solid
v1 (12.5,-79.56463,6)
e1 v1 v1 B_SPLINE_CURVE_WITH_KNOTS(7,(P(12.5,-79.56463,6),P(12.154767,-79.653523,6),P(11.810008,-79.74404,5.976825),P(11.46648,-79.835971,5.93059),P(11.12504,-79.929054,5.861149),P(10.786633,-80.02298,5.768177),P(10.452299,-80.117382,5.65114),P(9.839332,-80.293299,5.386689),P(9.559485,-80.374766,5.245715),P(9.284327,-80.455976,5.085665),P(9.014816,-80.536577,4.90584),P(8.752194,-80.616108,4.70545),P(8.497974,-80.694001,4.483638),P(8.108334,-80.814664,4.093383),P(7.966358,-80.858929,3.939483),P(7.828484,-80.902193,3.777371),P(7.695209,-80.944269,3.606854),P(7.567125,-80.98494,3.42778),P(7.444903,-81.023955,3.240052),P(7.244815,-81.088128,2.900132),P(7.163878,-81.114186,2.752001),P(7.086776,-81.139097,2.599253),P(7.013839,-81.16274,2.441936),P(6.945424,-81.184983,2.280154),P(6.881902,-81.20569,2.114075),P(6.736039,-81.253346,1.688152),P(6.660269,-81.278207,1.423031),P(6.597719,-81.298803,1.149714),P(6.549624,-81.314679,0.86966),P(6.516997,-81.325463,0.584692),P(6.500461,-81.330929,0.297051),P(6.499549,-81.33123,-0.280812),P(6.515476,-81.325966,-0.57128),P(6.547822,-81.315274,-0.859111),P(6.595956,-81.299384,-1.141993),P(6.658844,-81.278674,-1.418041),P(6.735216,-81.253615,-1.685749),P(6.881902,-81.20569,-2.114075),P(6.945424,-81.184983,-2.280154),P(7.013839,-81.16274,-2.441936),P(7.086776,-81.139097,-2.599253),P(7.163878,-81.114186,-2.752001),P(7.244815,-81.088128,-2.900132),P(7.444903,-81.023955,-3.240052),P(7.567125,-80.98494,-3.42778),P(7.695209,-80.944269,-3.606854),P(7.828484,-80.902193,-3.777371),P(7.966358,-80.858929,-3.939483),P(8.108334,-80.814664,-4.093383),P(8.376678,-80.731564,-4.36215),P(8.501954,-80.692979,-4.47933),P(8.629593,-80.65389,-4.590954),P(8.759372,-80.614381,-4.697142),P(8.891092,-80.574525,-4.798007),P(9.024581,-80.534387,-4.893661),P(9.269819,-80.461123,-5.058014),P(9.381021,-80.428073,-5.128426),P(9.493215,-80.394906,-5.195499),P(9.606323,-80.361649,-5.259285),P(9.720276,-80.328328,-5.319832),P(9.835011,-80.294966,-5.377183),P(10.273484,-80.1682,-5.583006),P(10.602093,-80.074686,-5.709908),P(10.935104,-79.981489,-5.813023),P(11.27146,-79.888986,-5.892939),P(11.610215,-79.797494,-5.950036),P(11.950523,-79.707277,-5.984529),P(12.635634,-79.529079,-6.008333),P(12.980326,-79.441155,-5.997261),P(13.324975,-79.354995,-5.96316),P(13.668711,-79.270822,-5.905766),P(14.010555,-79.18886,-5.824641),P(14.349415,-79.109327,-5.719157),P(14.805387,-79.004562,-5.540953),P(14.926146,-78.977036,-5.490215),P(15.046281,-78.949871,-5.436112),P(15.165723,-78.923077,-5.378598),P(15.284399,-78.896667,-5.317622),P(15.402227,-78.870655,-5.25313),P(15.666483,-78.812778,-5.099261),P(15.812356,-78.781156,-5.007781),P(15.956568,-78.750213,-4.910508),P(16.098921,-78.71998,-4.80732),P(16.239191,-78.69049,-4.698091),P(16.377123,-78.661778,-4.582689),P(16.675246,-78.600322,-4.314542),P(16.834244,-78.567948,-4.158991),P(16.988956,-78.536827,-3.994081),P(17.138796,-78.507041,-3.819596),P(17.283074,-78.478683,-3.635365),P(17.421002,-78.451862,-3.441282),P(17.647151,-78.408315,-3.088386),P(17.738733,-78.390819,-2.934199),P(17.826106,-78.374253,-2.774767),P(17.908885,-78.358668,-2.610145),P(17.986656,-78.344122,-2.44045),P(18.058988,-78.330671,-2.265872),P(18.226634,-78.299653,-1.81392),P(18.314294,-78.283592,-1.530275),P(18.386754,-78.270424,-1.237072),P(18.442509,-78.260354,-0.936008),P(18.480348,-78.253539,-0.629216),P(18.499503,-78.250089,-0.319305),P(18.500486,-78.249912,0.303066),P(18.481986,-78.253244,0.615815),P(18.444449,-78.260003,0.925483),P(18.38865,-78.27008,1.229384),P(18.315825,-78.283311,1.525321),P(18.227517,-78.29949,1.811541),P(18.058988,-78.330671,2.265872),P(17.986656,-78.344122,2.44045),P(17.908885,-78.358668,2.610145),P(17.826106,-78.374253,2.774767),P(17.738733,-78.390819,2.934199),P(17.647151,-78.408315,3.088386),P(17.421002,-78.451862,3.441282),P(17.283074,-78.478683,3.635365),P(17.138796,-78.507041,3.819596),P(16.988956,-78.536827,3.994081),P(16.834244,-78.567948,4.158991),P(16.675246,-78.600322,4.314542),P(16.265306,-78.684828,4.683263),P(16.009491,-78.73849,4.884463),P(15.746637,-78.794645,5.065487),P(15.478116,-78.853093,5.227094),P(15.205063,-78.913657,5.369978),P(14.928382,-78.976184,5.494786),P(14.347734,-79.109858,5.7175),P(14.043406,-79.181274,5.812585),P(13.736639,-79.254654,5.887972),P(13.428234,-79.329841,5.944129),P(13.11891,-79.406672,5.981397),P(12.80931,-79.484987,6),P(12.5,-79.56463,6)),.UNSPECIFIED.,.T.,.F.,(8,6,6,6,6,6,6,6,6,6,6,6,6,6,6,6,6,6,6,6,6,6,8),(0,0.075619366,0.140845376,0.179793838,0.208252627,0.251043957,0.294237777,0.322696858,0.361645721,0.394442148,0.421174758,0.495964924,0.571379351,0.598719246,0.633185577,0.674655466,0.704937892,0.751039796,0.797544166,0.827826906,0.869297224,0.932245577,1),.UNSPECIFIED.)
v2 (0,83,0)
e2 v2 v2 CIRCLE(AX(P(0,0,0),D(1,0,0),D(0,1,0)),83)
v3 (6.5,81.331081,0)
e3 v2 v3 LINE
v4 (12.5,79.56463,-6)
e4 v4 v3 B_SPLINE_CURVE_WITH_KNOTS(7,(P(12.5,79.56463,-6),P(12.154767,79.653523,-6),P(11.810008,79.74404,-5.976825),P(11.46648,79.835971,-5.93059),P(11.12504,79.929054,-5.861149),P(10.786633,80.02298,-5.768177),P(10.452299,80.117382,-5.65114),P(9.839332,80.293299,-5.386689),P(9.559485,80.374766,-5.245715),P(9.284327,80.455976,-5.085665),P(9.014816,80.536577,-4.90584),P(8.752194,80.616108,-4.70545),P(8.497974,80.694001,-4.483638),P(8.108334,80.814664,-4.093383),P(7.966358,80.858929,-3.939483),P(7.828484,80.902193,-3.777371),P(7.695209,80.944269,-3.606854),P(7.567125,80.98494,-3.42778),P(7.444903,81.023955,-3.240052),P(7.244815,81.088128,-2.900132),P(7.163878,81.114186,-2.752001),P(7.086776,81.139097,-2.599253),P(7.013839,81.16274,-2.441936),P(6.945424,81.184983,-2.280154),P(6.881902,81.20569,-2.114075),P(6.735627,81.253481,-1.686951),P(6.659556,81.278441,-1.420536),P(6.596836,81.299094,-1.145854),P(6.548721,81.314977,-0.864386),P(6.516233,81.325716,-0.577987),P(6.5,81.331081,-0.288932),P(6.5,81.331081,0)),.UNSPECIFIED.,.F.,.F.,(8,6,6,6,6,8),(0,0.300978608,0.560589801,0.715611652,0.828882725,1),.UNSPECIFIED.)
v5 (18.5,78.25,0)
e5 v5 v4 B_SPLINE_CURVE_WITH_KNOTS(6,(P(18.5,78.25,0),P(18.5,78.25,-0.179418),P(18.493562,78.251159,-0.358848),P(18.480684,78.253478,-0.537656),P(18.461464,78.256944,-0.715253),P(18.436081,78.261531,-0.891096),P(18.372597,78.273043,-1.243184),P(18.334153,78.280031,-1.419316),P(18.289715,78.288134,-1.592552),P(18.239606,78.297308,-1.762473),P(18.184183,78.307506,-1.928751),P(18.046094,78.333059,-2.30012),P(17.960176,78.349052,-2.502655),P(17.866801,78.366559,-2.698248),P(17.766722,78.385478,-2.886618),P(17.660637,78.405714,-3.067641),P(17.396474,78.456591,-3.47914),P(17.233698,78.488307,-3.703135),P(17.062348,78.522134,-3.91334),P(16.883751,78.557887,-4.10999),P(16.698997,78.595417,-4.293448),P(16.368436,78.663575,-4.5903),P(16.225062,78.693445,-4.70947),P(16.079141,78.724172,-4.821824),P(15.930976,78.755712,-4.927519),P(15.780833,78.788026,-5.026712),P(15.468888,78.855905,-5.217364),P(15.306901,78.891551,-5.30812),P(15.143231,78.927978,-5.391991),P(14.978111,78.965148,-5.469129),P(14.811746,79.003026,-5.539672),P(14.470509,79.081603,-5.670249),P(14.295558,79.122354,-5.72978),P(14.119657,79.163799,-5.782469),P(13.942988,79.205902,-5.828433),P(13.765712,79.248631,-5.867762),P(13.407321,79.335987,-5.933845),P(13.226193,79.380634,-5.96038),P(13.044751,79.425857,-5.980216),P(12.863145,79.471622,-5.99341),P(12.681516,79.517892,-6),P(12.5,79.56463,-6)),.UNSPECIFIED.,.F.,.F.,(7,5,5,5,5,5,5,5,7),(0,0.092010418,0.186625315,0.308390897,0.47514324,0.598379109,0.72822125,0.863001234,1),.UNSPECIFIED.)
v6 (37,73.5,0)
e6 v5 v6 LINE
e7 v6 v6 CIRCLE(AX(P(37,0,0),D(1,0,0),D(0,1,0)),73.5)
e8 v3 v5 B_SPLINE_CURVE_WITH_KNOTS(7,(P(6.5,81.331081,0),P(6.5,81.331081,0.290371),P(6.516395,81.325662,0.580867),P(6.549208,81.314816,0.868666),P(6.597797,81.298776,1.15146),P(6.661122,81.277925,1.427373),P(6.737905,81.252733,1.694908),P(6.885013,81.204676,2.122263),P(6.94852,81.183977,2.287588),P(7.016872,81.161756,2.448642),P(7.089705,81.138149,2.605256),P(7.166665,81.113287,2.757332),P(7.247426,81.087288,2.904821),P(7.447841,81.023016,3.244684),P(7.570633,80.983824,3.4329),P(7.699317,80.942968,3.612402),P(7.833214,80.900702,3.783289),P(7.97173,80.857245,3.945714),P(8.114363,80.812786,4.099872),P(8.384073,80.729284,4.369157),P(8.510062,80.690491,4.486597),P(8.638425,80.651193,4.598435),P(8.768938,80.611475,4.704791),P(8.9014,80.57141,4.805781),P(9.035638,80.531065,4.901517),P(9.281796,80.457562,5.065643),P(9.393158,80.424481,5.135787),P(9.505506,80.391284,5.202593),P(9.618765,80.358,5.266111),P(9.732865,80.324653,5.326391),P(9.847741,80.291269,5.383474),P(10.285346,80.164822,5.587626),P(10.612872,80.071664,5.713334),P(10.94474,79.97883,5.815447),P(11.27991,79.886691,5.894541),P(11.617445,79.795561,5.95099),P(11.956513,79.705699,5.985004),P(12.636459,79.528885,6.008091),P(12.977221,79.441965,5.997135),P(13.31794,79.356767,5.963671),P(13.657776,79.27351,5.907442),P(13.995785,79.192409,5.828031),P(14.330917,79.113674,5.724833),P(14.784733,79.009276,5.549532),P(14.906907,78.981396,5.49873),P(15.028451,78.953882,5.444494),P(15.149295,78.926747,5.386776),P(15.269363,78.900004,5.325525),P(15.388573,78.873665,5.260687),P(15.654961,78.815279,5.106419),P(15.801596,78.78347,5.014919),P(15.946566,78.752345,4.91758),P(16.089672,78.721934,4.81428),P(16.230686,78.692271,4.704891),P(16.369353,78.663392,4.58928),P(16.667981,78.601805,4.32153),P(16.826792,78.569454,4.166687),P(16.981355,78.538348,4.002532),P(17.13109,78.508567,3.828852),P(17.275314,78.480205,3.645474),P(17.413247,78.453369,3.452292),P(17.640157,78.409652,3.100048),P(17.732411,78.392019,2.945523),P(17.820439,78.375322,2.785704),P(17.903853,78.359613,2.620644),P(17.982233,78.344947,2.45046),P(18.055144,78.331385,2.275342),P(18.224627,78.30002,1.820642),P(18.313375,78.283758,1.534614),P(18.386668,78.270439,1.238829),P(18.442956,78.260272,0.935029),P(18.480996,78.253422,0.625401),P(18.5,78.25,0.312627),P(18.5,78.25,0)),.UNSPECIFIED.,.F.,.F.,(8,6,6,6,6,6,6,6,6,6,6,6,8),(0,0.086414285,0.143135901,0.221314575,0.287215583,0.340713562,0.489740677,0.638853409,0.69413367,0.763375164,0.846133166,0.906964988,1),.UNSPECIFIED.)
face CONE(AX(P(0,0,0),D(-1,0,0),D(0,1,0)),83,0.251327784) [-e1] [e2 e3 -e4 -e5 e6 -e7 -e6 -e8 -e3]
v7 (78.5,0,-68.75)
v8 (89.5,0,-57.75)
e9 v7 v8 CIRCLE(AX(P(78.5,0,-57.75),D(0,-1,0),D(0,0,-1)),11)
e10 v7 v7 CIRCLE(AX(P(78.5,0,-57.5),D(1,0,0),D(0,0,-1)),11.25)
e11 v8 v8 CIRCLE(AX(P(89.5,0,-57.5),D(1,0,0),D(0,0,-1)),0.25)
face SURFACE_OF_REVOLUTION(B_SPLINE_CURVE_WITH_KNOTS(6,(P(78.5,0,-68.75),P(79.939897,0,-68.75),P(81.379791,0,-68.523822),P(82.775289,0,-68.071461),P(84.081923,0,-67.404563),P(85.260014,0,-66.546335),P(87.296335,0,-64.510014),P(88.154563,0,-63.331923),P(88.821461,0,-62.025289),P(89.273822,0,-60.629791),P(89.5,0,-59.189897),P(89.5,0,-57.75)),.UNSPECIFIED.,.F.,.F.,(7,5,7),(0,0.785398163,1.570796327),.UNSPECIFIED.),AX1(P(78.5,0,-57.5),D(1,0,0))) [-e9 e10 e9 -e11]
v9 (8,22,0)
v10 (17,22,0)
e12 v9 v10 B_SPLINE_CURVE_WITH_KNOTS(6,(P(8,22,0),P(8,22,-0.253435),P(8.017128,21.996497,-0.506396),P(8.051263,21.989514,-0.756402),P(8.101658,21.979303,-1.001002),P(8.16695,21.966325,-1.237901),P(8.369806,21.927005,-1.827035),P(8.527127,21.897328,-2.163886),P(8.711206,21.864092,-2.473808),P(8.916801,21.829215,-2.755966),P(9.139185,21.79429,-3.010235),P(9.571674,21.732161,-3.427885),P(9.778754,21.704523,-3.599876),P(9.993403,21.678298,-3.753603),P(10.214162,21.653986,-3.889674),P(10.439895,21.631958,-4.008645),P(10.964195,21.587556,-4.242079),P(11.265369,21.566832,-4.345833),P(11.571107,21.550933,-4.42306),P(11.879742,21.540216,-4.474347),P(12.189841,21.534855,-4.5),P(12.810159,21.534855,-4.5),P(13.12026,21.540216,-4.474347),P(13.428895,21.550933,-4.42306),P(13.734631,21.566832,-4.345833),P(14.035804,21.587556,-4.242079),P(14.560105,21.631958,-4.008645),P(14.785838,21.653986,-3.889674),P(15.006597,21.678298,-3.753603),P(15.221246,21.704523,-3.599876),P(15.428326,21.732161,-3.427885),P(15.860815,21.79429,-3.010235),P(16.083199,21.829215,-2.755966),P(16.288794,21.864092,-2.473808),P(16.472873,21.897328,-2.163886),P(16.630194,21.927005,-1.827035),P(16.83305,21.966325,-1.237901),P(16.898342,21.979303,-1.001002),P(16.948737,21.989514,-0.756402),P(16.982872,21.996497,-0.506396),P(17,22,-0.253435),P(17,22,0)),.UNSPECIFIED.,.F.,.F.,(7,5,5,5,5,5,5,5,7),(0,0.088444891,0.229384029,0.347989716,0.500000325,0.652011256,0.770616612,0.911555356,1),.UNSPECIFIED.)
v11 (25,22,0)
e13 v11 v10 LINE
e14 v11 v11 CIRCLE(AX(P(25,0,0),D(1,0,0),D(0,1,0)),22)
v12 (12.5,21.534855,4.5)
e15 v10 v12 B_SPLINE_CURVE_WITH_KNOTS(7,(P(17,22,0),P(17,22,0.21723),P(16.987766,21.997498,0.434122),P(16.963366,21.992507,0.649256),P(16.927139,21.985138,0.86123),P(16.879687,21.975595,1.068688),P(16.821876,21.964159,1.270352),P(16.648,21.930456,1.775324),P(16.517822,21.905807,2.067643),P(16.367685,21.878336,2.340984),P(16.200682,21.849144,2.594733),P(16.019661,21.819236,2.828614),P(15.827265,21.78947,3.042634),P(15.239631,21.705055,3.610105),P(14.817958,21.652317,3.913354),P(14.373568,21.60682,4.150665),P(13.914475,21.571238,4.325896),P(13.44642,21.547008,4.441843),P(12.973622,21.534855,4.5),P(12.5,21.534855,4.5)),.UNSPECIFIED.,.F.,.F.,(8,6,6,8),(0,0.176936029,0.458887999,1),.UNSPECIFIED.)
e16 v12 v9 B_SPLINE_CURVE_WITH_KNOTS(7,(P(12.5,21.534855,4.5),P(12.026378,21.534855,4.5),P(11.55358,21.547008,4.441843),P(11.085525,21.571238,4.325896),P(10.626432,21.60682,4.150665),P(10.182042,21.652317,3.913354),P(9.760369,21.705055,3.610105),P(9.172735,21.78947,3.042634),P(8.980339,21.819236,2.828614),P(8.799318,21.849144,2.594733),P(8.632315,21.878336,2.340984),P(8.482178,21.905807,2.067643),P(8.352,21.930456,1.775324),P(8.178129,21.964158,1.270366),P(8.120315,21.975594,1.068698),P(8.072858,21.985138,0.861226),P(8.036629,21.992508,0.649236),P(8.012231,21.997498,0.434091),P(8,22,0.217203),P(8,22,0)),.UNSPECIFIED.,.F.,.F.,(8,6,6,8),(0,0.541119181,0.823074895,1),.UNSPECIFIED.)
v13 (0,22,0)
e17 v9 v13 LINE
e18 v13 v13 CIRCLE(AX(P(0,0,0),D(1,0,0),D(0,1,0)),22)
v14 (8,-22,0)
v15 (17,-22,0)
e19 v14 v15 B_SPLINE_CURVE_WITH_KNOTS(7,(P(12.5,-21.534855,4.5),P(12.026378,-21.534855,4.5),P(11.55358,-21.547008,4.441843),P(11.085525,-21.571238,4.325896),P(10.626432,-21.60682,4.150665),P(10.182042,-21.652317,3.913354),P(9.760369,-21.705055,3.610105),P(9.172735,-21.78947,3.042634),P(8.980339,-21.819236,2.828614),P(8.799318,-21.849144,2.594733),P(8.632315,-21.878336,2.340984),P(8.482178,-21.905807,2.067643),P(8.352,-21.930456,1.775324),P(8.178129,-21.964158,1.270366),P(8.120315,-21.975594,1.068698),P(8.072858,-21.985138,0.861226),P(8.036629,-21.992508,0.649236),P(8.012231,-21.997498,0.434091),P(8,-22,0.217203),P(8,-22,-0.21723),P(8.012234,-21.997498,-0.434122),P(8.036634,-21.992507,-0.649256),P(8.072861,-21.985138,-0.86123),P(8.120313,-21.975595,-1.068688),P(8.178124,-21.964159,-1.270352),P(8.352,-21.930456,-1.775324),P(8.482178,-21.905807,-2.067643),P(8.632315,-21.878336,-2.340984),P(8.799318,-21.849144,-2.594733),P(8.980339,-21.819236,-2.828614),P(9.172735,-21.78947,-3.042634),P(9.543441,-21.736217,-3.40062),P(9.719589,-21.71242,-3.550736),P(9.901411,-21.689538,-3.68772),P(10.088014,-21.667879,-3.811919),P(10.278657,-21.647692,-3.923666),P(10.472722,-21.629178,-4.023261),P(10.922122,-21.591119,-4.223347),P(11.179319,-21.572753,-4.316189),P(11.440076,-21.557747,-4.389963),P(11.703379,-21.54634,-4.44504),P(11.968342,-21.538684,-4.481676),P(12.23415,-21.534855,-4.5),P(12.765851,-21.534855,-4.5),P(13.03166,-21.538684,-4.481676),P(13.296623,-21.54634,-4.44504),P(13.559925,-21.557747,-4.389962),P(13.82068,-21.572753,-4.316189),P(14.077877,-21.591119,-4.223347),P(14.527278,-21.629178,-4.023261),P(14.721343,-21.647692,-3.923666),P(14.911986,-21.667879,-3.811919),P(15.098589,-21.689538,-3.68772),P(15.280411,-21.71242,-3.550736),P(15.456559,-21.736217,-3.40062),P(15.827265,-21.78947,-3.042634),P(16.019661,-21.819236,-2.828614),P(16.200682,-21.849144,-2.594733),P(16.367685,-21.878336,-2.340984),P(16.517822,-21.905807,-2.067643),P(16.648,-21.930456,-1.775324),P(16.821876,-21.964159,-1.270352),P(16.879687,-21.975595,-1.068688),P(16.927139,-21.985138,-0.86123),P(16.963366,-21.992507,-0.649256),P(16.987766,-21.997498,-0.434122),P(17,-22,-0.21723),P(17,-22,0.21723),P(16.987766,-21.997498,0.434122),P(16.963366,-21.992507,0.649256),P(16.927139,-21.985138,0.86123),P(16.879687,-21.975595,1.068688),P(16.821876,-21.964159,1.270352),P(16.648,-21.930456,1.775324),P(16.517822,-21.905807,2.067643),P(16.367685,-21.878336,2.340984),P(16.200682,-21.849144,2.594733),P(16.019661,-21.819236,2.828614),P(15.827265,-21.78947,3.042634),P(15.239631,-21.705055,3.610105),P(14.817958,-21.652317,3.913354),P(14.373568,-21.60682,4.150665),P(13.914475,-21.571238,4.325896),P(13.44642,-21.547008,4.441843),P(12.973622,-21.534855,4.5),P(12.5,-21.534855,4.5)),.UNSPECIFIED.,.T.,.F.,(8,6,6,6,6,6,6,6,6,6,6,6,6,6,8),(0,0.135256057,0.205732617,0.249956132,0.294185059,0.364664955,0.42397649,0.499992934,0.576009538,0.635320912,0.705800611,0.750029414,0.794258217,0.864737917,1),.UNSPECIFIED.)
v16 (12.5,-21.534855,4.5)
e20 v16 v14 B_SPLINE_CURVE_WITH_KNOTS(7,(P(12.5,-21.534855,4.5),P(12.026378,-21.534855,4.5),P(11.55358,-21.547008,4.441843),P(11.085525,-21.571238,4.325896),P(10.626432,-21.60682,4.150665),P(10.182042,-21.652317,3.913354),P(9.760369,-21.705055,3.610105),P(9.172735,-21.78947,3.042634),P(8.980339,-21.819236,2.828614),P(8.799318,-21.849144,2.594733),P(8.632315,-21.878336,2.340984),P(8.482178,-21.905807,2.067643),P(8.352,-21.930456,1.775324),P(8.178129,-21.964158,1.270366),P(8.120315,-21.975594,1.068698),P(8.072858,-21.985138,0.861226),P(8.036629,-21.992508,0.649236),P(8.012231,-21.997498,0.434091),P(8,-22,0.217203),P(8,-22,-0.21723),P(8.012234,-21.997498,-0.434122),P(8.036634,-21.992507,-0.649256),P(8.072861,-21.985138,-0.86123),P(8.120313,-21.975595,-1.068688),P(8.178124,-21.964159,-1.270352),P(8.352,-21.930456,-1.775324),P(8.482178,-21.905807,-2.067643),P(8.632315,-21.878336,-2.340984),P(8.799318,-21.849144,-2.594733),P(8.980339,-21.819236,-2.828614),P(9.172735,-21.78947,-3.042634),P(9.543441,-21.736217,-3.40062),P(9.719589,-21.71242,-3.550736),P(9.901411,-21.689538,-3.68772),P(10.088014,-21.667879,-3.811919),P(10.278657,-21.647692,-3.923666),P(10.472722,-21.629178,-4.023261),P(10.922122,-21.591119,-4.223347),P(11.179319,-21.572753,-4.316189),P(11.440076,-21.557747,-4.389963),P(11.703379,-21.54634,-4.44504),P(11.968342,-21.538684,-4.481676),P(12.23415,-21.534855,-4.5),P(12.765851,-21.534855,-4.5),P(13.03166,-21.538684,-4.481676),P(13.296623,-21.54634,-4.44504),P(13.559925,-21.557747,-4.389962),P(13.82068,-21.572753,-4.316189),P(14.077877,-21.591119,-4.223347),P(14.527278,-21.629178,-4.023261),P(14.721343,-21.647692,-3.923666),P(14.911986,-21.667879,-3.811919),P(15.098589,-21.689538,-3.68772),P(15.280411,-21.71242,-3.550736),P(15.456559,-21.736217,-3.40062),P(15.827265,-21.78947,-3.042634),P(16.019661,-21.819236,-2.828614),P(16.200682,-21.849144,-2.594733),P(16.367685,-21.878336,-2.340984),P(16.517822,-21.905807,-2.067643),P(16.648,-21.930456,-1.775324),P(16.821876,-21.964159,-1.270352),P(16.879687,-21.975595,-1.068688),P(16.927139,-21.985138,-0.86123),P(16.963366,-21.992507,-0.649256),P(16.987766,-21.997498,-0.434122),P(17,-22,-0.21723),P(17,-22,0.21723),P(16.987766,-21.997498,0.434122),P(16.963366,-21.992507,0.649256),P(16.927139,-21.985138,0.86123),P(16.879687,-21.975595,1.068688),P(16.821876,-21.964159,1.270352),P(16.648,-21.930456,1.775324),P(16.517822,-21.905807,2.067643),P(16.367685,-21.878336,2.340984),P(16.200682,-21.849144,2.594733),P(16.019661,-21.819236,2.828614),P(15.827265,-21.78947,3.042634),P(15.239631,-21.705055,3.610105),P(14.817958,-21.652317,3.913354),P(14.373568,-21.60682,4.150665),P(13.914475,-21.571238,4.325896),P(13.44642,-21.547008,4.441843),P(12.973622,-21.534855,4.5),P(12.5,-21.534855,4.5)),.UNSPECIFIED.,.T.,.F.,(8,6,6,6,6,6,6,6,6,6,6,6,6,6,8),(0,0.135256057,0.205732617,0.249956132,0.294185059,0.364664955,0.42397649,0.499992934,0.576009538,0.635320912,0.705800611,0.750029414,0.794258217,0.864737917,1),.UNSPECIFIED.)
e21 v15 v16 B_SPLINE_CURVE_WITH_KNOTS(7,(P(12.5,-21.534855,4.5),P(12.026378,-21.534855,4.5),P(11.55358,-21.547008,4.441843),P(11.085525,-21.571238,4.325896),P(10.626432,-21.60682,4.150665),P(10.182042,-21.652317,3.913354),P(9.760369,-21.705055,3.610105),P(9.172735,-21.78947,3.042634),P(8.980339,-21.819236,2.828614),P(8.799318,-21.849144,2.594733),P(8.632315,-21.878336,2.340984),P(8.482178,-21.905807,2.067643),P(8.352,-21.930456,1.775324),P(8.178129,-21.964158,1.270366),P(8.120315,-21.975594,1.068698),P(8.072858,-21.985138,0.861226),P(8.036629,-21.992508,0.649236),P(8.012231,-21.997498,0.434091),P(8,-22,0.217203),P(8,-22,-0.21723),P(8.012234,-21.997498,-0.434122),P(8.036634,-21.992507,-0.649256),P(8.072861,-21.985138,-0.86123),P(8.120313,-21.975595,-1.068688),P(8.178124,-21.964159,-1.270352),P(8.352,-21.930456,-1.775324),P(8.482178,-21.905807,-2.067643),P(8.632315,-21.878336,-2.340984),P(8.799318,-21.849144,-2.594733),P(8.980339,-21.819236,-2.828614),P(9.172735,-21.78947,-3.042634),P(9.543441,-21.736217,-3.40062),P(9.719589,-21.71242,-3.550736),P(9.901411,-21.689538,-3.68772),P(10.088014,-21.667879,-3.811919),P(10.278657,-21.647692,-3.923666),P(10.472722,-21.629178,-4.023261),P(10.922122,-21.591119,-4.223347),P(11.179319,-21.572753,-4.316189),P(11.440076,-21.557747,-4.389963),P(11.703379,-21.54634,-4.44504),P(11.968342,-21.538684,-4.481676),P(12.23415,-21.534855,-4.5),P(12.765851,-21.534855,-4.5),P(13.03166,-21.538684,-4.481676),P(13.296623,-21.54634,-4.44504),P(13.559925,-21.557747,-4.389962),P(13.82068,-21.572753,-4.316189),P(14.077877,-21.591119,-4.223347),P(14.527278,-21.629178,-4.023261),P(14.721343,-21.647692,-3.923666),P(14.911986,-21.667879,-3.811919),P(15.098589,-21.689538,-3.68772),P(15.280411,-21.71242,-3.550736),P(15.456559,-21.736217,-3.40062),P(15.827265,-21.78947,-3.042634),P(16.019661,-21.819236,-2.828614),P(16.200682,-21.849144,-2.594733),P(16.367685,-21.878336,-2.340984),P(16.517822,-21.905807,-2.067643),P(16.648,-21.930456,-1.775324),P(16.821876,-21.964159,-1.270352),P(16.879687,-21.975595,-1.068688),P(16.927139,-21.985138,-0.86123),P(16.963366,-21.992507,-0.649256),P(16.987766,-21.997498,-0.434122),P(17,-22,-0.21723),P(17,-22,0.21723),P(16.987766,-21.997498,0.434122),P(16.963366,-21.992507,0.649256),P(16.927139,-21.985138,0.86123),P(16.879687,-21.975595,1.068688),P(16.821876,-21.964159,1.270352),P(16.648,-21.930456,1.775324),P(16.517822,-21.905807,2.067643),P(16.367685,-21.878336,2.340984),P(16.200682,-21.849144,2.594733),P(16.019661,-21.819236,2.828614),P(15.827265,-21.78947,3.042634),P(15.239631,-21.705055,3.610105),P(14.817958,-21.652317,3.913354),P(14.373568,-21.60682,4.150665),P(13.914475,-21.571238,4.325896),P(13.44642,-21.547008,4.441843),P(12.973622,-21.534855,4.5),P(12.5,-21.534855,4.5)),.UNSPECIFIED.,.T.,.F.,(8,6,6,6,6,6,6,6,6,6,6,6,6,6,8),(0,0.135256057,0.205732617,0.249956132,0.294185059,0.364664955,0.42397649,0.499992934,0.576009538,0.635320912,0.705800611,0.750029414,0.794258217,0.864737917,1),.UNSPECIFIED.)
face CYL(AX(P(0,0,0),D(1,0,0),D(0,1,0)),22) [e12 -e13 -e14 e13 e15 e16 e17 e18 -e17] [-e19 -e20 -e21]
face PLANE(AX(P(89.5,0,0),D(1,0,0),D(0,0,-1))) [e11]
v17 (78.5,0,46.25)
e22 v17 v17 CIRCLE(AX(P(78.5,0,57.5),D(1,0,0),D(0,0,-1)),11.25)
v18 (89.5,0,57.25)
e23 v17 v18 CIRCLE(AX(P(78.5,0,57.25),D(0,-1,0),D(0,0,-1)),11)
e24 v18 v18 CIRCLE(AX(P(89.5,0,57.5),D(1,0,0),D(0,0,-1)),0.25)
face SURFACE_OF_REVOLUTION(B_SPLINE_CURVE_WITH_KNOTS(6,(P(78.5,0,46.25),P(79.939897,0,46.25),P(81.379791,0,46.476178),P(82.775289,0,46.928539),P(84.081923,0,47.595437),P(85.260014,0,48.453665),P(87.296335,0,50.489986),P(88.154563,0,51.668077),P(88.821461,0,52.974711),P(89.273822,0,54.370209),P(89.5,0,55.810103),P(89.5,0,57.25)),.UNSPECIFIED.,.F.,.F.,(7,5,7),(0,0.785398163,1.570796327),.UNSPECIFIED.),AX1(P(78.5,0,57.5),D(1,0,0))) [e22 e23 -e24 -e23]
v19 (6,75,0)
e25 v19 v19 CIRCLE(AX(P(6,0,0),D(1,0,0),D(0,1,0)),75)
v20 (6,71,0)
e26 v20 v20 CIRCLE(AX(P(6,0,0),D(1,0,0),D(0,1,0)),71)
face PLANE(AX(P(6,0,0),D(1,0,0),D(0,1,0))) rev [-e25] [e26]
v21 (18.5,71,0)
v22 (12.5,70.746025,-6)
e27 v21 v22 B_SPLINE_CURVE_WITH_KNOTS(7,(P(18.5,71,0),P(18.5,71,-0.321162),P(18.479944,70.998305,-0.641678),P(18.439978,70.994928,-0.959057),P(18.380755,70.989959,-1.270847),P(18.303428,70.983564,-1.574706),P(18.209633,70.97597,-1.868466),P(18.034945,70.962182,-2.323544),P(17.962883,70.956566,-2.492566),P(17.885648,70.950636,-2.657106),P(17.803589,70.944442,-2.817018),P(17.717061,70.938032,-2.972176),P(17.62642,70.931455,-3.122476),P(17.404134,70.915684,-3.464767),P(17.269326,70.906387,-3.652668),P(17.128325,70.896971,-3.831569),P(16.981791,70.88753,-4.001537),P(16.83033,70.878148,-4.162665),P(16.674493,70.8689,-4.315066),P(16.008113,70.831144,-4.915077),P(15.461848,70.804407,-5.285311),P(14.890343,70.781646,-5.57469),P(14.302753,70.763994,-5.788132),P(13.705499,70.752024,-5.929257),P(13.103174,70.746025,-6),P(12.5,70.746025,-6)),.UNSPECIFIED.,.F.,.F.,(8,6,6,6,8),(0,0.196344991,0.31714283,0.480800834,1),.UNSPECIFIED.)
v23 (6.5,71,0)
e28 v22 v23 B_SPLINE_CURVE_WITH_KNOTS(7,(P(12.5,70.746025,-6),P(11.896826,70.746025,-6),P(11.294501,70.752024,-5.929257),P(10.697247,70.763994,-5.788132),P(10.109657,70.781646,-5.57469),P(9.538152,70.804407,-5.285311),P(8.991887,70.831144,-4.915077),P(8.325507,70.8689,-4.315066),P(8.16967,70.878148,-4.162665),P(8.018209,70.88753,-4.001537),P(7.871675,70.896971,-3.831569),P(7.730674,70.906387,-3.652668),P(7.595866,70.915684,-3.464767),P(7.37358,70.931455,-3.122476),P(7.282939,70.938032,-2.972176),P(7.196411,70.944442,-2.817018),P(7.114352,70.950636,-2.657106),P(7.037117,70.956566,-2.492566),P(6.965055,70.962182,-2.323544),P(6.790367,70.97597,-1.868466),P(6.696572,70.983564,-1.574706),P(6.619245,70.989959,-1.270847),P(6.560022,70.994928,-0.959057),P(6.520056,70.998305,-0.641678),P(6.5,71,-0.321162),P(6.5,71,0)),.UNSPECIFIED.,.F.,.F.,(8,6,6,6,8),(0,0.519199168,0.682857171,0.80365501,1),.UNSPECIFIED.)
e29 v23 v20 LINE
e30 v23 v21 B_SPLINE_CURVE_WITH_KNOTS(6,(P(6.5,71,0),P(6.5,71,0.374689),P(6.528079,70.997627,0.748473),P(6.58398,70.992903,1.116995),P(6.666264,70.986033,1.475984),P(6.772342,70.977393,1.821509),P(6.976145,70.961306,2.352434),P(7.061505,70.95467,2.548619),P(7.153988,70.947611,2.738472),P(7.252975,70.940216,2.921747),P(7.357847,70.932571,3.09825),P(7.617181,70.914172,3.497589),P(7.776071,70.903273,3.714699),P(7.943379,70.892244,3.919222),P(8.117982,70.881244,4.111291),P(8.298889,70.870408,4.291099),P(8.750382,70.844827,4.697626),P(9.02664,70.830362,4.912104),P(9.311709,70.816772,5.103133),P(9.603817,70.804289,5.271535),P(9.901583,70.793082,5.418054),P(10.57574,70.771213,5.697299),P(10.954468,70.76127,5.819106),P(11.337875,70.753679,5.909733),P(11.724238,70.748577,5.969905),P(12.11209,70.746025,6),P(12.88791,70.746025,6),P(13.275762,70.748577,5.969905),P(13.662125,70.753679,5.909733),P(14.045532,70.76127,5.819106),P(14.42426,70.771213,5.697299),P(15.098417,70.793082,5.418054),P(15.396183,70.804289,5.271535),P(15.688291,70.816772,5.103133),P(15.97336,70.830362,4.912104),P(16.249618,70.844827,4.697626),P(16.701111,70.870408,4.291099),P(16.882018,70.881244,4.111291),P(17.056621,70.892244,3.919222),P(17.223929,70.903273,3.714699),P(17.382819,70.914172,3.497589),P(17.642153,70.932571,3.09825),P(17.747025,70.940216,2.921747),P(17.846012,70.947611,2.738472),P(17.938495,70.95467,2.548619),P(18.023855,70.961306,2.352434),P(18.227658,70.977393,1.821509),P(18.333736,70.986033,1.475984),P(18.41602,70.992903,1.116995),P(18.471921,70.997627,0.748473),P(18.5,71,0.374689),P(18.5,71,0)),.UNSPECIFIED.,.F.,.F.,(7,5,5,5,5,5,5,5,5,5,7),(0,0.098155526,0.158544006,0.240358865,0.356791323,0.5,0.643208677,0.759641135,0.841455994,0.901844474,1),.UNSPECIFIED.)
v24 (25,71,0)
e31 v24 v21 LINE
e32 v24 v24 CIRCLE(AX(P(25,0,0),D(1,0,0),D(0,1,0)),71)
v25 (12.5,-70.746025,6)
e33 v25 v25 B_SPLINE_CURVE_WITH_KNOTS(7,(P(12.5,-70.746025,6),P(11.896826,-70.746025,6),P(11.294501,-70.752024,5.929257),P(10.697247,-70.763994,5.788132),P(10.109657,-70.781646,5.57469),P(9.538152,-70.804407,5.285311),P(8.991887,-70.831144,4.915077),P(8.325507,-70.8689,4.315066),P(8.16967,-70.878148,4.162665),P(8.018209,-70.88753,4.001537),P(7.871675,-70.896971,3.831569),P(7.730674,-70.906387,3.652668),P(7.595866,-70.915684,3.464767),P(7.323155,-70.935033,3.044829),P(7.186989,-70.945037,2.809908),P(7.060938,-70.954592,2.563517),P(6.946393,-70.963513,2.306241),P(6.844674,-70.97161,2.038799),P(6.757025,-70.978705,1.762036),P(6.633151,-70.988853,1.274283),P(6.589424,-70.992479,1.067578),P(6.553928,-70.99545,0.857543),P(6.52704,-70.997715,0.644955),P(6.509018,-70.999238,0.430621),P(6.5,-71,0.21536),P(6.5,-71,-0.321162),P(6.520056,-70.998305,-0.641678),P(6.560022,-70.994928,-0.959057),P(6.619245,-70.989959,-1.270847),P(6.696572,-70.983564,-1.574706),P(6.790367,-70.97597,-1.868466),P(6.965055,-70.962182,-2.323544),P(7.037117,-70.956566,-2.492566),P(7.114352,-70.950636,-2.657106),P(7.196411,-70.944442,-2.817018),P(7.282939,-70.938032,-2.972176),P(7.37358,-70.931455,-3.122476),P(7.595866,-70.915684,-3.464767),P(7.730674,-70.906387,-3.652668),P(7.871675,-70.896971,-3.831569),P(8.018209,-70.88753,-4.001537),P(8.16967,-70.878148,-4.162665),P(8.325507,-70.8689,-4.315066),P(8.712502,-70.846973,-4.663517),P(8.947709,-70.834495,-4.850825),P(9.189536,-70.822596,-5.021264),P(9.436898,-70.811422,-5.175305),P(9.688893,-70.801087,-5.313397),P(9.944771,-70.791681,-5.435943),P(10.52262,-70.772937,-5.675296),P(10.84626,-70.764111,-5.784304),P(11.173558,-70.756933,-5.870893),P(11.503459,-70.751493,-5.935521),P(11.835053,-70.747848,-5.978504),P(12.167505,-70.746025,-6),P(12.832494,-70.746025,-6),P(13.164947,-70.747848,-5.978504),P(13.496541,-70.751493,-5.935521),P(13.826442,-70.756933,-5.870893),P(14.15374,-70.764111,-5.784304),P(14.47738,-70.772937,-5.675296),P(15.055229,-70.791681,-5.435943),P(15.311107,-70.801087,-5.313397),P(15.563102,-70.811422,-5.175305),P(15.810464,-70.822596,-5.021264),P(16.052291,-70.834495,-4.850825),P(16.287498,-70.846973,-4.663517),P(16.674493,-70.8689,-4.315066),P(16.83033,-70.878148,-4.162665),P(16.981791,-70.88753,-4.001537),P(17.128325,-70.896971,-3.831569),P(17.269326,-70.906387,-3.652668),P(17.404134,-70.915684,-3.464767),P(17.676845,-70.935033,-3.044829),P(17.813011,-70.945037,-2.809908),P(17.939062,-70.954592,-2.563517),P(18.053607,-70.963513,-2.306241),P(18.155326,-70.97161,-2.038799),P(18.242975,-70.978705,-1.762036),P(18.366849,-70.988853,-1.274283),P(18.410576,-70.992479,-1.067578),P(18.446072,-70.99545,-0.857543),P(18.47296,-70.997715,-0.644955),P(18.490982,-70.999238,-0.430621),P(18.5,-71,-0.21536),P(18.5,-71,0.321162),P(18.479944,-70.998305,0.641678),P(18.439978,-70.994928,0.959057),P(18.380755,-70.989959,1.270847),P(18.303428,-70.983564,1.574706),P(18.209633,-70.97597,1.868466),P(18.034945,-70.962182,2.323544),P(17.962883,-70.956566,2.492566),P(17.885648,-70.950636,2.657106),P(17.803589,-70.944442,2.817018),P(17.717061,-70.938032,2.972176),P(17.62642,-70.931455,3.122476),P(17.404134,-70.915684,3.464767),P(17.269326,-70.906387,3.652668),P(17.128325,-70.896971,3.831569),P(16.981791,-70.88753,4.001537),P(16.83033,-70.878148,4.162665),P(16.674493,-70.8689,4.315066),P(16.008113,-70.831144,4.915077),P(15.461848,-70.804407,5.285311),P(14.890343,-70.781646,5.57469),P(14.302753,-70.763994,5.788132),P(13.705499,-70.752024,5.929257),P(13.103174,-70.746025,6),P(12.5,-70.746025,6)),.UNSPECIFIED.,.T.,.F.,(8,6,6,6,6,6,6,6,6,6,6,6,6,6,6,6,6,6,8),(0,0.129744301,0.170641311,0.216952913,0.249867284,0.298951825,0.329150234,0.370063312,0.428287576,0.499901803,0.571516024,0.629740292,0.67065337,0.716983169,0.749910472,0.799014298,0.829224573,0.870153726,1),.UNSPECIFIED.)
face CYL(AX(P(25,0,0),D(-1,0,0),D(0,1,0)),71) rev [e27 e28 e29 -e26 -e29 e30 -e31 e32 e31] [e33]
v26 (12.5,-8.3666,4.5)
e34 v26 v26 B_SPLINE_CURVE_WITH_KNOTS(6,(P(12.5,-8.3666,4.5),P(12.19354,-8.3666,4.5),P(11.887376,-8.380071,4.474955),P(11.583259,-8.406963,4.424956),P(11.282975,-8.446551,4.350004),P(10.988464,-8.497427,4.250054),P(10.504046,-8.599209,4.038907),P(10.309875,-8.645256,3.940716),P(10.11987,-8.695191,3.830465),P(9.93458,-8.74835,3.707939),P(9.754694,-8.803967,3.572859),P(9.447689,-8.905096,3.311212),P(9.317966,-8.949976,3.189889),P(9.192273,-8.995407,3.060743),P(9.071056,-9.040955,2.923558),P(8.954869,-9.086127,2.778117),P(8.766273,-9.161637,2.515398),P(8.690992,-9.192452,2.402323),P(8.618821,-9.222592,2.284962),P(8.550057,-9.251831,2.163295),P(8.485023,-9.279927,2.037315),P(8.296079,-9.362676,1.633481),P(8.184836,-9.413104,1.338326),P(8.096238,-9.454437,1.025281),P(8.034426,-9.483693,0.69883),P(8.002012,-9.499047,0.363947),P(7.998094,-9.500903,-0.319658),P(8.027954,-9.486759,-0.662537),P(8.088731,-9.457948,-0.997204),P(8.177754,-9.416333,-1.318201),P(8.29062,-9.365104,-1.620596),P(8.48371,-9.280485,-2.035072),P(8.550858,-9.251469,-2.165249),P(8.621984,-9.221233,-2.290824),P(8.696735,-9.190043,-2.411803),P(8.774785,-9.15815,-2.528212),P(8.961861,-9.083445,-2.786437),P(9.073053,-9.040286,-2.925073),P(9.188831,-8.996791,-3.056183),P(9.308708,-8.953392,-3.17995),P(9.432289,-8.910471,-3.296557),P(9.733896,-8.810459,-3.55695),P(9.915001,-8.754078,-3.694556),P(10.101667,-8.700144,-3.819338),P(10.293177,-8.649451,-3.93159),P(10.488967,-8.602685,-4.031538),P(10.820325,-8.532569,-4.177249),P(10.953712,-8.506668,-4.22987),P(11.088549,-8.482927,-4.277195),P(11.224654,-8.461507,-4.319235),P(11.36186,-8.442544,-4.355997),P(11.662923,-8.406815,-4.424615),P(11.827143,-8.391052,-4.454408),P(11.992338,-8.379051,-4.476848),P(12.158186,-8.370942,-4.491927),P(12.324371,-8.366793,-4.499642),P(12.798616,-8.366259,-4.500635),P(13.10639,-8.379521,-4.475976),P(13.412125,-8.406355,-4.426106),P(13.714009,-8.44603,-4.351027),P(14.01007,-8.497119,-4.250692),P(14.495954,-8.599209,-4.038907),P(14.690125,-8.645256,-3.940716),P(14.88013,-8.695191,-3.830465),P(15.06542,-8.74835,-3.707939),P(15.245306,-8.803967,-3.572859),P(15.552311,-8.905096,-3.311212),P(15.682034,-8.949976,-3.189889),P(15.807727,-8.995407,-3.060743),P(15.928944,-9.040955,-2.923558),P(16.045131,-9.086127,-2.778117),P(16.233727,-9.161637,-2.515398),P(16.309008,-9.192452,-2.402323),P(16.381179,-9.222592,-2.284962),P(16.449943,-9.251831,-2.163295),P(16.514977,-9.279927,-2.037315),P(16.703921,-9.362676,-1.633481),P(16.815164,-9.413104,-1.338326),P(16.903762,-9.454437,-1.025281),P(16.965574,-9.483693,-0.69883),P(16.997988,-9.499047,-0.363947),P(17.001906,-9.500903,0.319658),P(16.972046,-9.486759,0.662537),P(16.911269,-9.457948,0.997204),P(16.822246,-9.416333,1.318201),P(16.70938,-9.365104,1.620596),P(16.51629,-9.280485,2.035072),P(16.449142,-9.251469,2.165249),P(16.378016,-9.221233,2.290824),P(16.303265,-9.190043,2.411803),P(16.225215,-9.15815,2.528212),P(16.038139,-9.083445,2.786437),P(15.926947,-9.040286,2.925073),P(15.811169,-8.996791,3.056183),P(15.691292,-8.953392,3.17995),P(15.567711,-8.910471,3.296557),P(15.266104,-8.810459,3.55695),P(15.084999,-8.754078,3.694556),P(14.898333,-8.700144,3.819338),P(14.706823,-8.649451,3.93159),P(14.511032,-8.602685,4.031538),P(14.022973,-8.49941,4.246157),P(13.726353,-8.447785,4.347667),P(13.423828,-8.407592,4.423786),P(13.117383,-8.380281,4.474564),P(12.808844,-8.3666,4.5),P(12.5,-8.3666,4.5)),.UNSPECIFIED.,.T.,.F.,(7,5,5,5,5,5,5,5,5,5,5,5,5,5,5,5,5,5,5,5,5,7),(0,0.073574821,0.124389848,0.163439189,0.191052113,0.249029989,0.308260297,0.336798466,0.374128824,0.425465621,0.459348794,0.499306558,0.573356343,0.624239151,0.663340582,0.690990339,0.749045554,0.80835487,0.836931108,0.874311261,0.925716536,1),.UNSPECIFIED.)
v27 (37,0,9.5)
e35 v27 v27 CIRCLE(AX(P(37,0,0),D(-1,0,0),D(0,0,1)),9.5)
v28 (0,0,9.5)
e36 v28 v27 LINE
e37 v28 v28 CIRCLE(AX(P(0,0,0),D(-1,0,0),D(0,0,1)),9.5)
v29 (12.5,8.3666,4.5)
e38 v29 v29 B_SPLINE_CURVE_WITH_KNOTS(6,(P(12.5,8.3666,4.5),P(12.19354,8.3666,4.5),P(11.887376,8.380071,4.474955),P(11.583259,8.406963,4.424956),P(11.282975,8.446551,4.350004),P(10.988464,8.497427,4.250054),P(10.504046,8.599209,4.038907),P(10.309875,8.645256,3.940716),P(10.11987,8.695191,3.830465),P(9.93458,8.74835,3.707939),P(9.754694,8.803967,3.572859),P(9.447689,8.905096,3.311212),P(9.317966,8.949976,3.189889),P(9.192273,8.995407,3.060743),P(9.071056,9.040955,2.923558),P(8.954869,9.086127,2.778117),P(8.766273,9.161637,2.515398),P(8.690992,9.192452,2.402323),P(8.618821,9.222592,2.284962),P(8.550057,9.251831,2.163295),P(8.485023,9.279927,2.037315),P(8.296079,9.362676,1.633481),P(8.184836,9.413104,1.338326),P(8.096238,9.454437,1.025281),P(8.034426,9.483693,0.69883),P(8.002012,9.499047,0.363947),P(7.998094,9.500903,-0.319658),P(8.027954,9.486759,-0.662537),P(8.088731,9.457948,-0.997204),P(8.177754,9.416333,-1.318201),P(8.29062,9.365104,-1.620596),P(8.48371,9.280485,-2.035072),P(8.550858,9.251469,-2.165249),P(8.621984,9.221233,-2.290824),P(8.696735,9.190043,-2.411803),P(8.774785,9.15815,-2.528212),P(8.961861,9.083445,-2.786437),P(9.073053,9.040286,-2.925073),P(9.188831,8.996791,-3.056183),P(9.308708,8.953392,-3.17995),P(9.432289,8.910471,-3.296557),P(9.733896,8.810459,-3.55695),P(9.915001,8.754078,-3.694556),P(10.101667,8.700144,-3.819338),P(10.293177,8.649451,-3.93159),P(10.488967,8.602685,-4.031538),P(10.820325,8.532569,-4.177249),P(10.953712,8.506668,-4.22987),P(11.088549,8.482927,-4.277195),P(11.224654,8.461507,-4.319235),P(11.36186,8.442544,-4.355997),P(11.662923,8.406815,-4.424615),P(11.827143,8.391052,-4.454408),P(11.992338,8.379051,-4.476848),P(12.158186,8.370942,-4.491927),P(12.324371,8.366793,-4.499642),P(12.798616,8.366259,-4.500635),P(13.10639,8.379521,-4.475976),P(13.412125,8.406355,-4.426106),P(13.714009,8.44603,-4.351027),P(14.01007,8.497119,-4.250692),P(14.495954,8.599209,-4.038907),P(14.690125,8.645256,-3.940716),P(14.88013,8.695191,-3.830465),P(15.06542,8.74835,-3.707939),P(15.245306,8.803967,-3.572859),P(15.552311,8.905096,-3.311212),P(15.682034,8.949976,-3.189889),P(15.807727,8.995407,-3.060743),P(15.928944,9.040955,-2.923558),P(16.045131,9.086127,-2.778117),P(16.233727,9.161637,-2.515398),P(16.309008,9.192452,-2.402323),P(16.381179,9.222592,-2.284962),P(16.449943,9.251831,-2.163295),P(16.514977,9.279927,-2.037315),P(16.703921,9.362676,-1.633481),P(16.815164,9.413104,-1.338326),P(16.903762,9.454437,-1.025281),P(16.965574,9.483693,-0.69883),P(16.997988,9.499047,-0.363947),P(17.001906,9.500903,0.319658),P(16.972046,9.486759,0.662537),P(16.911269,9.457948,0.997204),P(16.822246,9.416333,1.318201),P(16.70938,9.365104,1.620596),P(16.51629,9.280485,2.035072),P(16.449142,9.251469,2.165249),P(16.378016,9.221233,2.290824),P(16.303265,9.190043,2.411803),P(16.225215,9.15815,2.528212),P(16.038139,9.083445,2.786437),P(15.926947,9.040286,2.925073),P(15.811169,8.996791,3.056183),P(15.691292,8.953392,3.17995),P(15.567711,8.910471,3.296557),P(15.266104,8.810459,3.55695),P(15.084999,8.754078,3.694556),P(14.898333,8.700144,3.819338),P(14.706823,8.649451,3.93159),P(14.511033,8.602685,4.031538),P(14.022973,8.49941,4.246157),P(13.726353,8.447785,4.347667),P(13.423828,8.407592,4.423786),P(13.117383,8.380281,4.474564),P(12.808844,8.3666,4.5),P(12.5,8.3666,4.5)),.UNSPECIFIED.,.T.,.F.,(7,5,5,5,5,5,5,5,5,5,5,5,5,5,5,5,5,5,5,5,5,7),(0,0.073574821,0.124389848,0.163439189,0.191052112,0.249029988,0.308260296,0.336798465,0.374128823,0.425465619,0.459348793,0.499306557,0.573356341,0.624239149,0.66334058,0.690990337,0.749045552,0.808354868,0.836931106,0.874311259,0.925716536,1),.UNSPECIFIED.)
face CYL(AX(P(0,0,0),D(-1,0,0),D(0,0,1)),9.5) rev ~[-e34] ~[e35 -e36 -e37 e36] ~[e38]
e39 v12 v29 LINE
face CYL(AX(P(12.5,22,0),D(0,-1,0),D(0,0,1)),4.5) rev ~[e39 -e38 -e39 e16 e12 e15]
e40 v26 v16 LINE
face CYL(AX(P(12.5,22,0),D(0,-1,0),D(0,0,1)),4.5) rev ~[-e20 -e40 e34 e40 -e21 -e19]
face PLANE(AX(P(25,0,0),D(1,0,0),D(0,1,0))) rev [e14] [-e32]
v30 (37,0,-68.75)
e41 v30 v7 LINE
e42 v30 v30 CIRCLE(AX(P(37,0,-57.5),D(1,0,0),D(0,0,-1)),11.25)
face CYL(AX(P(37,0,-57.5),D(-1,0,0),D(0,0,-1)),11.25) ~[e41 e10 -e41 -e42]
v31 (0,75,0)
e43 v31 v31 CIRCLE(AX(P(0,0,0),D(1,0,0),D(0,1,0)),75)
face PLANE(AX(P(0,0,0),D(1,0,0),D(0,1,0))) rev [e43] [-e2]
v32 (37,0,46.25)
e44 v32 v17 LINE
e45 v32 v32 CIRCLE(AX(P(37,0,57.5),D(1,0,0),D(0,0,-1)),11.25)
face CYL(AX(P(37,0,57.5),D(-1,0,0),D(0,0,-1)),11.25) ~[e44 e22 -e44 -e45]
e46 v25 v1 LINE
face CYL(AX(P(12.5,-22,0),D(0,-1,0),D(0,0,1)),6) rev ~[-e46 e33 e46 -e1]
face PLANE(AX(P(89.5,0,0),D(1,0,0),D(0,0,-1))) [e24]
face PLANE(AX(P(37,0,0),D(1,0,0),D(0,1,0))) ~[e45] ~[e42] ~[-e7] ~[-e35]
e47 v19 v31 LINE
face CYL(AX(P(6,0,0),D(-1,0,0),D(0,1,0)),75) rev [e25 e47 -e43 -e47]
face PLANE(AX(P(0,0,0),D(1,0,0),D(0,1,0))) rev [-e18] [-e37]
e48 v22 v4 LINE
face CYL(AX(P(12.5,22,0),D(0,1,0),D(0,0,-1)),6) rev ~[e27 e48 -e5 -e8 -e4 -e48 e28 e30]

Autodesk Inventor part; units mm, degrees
ref_plane "YZ Plane" through (0, 0, 0) normal (1, 0, 0) x (0, 1, 0)
sketch "Sketch1" plane through (0, 0, 0) normal (0, 0, 1) x (1, 0, 0)
  line L0 (0, 0) -> (0, 22)
  line L1 (0, 22) -> (25, 22)
  line L2 (25, 22) -> (25, 71)
  line L3 (25, 71) -> (6, 71)
  line L4 (6, 71) -> (6, 75)
  line L5 (6, 75) -> (0, 75)
  line L6 (37, 0) -> (37, 73.5)
  line L7 (0, 75) -> (0, 83)
  line L8 (0, 83) -> (37, 73.5)
  line L9 (0, 0) -> (37, 0)
  dimension "d0" = 22
  dimension "d1" = 25
  dimension "d2" = 49
  dimension "d3" = 19
  dimension "d4" = 4
  dimension "d6" = 37
  dimension "d7" = 73.5
  dimension "d8" = 8
  dimension "d9" = 104.4
revolve "Revolution1" add sketch "Sketch1" angle 360 about axis through (0, 0, 0) along (1, 0, 0)
sketch "Sketch2" plane through (0, 0, 0) normal (-1, 0, 0) x (0, 0, 1)
  circle A0 centre (0, 0) radius 9.5
  dimension "d11" = 19
extrude "Extrusion1" cut sketch "Sketch2" against normal blind 37
sketch "Sketch3" plane through (37, 0, 0) normal (1, 0, 0) x (0, 0, -1)
  point P0 (0, 0)
sketch "Sketch4" plane through (25, 0, 0) normal (-1, 0, 0) x (0, 0, 1)
  point P0 (0, 0)
ref_plane "Work Plane1" through (12.5, 22, 0) normal (0, 1, 0) x (-1, 0, 0)
sketch "Sketch5" plane through (12.5, 22, 0) normal (0, 1, 0) x (-1, 0, 0)
  point P0 (12.5, 0)
  point P1 (0, 0)
  point P2 (0, 0)
  point P3 (0, 0)
sketch "Sketch6" plane through (37, 0, 0) normal (1, 0, 0) x (0, 0, -1)
  circle A0 centre (-57.5, 0) radius 11.25
  circle A1 centre (57.5, 0) radius 11.25
  point P0 (0, 0)
  dimension "d15" = 22.5
  dimension "d16" = 22.5
extrude "Extrusion2" add sketch "Sketch6" along normal blind 52.5
fillet "Fillet1" radius 11 2 edges at (89.5, 0, 68.75) (89.5, 0, -46.25)
hole "Hole1" at (12.5, 22, 0) direction (0, -1, 0) diameter 9 depth 45 tip angle 118
sketch "Sketch7" plane through (12.5, 22, 0) normal (0, 1, 0) x (-1, 0, 0)
  point P0 (12.5, 0)
  point P1 (0, 0)
  point P2 (0, 0)
hole "Hole2" at (12.5, 22, 0) direction (0, 1, 0) diameter 12 end through all
ref_plane "Work Plane2" through (12.5, -22, 0) normal (0, 1, 0) x (-1, 0, 0)
sketch "Sketch8" plane through (12.5, -22, 0) normal (0, 1, 0) x (-1, 0, 0)
  point P0 (12.5, 0)
  point P1 (0, 0)
  point P2 (0, 0)
hole "Hole3" at (12.5, -22, 0) direction (0, -1, 0) diameter 12 end through all
properties part number "volante final"
